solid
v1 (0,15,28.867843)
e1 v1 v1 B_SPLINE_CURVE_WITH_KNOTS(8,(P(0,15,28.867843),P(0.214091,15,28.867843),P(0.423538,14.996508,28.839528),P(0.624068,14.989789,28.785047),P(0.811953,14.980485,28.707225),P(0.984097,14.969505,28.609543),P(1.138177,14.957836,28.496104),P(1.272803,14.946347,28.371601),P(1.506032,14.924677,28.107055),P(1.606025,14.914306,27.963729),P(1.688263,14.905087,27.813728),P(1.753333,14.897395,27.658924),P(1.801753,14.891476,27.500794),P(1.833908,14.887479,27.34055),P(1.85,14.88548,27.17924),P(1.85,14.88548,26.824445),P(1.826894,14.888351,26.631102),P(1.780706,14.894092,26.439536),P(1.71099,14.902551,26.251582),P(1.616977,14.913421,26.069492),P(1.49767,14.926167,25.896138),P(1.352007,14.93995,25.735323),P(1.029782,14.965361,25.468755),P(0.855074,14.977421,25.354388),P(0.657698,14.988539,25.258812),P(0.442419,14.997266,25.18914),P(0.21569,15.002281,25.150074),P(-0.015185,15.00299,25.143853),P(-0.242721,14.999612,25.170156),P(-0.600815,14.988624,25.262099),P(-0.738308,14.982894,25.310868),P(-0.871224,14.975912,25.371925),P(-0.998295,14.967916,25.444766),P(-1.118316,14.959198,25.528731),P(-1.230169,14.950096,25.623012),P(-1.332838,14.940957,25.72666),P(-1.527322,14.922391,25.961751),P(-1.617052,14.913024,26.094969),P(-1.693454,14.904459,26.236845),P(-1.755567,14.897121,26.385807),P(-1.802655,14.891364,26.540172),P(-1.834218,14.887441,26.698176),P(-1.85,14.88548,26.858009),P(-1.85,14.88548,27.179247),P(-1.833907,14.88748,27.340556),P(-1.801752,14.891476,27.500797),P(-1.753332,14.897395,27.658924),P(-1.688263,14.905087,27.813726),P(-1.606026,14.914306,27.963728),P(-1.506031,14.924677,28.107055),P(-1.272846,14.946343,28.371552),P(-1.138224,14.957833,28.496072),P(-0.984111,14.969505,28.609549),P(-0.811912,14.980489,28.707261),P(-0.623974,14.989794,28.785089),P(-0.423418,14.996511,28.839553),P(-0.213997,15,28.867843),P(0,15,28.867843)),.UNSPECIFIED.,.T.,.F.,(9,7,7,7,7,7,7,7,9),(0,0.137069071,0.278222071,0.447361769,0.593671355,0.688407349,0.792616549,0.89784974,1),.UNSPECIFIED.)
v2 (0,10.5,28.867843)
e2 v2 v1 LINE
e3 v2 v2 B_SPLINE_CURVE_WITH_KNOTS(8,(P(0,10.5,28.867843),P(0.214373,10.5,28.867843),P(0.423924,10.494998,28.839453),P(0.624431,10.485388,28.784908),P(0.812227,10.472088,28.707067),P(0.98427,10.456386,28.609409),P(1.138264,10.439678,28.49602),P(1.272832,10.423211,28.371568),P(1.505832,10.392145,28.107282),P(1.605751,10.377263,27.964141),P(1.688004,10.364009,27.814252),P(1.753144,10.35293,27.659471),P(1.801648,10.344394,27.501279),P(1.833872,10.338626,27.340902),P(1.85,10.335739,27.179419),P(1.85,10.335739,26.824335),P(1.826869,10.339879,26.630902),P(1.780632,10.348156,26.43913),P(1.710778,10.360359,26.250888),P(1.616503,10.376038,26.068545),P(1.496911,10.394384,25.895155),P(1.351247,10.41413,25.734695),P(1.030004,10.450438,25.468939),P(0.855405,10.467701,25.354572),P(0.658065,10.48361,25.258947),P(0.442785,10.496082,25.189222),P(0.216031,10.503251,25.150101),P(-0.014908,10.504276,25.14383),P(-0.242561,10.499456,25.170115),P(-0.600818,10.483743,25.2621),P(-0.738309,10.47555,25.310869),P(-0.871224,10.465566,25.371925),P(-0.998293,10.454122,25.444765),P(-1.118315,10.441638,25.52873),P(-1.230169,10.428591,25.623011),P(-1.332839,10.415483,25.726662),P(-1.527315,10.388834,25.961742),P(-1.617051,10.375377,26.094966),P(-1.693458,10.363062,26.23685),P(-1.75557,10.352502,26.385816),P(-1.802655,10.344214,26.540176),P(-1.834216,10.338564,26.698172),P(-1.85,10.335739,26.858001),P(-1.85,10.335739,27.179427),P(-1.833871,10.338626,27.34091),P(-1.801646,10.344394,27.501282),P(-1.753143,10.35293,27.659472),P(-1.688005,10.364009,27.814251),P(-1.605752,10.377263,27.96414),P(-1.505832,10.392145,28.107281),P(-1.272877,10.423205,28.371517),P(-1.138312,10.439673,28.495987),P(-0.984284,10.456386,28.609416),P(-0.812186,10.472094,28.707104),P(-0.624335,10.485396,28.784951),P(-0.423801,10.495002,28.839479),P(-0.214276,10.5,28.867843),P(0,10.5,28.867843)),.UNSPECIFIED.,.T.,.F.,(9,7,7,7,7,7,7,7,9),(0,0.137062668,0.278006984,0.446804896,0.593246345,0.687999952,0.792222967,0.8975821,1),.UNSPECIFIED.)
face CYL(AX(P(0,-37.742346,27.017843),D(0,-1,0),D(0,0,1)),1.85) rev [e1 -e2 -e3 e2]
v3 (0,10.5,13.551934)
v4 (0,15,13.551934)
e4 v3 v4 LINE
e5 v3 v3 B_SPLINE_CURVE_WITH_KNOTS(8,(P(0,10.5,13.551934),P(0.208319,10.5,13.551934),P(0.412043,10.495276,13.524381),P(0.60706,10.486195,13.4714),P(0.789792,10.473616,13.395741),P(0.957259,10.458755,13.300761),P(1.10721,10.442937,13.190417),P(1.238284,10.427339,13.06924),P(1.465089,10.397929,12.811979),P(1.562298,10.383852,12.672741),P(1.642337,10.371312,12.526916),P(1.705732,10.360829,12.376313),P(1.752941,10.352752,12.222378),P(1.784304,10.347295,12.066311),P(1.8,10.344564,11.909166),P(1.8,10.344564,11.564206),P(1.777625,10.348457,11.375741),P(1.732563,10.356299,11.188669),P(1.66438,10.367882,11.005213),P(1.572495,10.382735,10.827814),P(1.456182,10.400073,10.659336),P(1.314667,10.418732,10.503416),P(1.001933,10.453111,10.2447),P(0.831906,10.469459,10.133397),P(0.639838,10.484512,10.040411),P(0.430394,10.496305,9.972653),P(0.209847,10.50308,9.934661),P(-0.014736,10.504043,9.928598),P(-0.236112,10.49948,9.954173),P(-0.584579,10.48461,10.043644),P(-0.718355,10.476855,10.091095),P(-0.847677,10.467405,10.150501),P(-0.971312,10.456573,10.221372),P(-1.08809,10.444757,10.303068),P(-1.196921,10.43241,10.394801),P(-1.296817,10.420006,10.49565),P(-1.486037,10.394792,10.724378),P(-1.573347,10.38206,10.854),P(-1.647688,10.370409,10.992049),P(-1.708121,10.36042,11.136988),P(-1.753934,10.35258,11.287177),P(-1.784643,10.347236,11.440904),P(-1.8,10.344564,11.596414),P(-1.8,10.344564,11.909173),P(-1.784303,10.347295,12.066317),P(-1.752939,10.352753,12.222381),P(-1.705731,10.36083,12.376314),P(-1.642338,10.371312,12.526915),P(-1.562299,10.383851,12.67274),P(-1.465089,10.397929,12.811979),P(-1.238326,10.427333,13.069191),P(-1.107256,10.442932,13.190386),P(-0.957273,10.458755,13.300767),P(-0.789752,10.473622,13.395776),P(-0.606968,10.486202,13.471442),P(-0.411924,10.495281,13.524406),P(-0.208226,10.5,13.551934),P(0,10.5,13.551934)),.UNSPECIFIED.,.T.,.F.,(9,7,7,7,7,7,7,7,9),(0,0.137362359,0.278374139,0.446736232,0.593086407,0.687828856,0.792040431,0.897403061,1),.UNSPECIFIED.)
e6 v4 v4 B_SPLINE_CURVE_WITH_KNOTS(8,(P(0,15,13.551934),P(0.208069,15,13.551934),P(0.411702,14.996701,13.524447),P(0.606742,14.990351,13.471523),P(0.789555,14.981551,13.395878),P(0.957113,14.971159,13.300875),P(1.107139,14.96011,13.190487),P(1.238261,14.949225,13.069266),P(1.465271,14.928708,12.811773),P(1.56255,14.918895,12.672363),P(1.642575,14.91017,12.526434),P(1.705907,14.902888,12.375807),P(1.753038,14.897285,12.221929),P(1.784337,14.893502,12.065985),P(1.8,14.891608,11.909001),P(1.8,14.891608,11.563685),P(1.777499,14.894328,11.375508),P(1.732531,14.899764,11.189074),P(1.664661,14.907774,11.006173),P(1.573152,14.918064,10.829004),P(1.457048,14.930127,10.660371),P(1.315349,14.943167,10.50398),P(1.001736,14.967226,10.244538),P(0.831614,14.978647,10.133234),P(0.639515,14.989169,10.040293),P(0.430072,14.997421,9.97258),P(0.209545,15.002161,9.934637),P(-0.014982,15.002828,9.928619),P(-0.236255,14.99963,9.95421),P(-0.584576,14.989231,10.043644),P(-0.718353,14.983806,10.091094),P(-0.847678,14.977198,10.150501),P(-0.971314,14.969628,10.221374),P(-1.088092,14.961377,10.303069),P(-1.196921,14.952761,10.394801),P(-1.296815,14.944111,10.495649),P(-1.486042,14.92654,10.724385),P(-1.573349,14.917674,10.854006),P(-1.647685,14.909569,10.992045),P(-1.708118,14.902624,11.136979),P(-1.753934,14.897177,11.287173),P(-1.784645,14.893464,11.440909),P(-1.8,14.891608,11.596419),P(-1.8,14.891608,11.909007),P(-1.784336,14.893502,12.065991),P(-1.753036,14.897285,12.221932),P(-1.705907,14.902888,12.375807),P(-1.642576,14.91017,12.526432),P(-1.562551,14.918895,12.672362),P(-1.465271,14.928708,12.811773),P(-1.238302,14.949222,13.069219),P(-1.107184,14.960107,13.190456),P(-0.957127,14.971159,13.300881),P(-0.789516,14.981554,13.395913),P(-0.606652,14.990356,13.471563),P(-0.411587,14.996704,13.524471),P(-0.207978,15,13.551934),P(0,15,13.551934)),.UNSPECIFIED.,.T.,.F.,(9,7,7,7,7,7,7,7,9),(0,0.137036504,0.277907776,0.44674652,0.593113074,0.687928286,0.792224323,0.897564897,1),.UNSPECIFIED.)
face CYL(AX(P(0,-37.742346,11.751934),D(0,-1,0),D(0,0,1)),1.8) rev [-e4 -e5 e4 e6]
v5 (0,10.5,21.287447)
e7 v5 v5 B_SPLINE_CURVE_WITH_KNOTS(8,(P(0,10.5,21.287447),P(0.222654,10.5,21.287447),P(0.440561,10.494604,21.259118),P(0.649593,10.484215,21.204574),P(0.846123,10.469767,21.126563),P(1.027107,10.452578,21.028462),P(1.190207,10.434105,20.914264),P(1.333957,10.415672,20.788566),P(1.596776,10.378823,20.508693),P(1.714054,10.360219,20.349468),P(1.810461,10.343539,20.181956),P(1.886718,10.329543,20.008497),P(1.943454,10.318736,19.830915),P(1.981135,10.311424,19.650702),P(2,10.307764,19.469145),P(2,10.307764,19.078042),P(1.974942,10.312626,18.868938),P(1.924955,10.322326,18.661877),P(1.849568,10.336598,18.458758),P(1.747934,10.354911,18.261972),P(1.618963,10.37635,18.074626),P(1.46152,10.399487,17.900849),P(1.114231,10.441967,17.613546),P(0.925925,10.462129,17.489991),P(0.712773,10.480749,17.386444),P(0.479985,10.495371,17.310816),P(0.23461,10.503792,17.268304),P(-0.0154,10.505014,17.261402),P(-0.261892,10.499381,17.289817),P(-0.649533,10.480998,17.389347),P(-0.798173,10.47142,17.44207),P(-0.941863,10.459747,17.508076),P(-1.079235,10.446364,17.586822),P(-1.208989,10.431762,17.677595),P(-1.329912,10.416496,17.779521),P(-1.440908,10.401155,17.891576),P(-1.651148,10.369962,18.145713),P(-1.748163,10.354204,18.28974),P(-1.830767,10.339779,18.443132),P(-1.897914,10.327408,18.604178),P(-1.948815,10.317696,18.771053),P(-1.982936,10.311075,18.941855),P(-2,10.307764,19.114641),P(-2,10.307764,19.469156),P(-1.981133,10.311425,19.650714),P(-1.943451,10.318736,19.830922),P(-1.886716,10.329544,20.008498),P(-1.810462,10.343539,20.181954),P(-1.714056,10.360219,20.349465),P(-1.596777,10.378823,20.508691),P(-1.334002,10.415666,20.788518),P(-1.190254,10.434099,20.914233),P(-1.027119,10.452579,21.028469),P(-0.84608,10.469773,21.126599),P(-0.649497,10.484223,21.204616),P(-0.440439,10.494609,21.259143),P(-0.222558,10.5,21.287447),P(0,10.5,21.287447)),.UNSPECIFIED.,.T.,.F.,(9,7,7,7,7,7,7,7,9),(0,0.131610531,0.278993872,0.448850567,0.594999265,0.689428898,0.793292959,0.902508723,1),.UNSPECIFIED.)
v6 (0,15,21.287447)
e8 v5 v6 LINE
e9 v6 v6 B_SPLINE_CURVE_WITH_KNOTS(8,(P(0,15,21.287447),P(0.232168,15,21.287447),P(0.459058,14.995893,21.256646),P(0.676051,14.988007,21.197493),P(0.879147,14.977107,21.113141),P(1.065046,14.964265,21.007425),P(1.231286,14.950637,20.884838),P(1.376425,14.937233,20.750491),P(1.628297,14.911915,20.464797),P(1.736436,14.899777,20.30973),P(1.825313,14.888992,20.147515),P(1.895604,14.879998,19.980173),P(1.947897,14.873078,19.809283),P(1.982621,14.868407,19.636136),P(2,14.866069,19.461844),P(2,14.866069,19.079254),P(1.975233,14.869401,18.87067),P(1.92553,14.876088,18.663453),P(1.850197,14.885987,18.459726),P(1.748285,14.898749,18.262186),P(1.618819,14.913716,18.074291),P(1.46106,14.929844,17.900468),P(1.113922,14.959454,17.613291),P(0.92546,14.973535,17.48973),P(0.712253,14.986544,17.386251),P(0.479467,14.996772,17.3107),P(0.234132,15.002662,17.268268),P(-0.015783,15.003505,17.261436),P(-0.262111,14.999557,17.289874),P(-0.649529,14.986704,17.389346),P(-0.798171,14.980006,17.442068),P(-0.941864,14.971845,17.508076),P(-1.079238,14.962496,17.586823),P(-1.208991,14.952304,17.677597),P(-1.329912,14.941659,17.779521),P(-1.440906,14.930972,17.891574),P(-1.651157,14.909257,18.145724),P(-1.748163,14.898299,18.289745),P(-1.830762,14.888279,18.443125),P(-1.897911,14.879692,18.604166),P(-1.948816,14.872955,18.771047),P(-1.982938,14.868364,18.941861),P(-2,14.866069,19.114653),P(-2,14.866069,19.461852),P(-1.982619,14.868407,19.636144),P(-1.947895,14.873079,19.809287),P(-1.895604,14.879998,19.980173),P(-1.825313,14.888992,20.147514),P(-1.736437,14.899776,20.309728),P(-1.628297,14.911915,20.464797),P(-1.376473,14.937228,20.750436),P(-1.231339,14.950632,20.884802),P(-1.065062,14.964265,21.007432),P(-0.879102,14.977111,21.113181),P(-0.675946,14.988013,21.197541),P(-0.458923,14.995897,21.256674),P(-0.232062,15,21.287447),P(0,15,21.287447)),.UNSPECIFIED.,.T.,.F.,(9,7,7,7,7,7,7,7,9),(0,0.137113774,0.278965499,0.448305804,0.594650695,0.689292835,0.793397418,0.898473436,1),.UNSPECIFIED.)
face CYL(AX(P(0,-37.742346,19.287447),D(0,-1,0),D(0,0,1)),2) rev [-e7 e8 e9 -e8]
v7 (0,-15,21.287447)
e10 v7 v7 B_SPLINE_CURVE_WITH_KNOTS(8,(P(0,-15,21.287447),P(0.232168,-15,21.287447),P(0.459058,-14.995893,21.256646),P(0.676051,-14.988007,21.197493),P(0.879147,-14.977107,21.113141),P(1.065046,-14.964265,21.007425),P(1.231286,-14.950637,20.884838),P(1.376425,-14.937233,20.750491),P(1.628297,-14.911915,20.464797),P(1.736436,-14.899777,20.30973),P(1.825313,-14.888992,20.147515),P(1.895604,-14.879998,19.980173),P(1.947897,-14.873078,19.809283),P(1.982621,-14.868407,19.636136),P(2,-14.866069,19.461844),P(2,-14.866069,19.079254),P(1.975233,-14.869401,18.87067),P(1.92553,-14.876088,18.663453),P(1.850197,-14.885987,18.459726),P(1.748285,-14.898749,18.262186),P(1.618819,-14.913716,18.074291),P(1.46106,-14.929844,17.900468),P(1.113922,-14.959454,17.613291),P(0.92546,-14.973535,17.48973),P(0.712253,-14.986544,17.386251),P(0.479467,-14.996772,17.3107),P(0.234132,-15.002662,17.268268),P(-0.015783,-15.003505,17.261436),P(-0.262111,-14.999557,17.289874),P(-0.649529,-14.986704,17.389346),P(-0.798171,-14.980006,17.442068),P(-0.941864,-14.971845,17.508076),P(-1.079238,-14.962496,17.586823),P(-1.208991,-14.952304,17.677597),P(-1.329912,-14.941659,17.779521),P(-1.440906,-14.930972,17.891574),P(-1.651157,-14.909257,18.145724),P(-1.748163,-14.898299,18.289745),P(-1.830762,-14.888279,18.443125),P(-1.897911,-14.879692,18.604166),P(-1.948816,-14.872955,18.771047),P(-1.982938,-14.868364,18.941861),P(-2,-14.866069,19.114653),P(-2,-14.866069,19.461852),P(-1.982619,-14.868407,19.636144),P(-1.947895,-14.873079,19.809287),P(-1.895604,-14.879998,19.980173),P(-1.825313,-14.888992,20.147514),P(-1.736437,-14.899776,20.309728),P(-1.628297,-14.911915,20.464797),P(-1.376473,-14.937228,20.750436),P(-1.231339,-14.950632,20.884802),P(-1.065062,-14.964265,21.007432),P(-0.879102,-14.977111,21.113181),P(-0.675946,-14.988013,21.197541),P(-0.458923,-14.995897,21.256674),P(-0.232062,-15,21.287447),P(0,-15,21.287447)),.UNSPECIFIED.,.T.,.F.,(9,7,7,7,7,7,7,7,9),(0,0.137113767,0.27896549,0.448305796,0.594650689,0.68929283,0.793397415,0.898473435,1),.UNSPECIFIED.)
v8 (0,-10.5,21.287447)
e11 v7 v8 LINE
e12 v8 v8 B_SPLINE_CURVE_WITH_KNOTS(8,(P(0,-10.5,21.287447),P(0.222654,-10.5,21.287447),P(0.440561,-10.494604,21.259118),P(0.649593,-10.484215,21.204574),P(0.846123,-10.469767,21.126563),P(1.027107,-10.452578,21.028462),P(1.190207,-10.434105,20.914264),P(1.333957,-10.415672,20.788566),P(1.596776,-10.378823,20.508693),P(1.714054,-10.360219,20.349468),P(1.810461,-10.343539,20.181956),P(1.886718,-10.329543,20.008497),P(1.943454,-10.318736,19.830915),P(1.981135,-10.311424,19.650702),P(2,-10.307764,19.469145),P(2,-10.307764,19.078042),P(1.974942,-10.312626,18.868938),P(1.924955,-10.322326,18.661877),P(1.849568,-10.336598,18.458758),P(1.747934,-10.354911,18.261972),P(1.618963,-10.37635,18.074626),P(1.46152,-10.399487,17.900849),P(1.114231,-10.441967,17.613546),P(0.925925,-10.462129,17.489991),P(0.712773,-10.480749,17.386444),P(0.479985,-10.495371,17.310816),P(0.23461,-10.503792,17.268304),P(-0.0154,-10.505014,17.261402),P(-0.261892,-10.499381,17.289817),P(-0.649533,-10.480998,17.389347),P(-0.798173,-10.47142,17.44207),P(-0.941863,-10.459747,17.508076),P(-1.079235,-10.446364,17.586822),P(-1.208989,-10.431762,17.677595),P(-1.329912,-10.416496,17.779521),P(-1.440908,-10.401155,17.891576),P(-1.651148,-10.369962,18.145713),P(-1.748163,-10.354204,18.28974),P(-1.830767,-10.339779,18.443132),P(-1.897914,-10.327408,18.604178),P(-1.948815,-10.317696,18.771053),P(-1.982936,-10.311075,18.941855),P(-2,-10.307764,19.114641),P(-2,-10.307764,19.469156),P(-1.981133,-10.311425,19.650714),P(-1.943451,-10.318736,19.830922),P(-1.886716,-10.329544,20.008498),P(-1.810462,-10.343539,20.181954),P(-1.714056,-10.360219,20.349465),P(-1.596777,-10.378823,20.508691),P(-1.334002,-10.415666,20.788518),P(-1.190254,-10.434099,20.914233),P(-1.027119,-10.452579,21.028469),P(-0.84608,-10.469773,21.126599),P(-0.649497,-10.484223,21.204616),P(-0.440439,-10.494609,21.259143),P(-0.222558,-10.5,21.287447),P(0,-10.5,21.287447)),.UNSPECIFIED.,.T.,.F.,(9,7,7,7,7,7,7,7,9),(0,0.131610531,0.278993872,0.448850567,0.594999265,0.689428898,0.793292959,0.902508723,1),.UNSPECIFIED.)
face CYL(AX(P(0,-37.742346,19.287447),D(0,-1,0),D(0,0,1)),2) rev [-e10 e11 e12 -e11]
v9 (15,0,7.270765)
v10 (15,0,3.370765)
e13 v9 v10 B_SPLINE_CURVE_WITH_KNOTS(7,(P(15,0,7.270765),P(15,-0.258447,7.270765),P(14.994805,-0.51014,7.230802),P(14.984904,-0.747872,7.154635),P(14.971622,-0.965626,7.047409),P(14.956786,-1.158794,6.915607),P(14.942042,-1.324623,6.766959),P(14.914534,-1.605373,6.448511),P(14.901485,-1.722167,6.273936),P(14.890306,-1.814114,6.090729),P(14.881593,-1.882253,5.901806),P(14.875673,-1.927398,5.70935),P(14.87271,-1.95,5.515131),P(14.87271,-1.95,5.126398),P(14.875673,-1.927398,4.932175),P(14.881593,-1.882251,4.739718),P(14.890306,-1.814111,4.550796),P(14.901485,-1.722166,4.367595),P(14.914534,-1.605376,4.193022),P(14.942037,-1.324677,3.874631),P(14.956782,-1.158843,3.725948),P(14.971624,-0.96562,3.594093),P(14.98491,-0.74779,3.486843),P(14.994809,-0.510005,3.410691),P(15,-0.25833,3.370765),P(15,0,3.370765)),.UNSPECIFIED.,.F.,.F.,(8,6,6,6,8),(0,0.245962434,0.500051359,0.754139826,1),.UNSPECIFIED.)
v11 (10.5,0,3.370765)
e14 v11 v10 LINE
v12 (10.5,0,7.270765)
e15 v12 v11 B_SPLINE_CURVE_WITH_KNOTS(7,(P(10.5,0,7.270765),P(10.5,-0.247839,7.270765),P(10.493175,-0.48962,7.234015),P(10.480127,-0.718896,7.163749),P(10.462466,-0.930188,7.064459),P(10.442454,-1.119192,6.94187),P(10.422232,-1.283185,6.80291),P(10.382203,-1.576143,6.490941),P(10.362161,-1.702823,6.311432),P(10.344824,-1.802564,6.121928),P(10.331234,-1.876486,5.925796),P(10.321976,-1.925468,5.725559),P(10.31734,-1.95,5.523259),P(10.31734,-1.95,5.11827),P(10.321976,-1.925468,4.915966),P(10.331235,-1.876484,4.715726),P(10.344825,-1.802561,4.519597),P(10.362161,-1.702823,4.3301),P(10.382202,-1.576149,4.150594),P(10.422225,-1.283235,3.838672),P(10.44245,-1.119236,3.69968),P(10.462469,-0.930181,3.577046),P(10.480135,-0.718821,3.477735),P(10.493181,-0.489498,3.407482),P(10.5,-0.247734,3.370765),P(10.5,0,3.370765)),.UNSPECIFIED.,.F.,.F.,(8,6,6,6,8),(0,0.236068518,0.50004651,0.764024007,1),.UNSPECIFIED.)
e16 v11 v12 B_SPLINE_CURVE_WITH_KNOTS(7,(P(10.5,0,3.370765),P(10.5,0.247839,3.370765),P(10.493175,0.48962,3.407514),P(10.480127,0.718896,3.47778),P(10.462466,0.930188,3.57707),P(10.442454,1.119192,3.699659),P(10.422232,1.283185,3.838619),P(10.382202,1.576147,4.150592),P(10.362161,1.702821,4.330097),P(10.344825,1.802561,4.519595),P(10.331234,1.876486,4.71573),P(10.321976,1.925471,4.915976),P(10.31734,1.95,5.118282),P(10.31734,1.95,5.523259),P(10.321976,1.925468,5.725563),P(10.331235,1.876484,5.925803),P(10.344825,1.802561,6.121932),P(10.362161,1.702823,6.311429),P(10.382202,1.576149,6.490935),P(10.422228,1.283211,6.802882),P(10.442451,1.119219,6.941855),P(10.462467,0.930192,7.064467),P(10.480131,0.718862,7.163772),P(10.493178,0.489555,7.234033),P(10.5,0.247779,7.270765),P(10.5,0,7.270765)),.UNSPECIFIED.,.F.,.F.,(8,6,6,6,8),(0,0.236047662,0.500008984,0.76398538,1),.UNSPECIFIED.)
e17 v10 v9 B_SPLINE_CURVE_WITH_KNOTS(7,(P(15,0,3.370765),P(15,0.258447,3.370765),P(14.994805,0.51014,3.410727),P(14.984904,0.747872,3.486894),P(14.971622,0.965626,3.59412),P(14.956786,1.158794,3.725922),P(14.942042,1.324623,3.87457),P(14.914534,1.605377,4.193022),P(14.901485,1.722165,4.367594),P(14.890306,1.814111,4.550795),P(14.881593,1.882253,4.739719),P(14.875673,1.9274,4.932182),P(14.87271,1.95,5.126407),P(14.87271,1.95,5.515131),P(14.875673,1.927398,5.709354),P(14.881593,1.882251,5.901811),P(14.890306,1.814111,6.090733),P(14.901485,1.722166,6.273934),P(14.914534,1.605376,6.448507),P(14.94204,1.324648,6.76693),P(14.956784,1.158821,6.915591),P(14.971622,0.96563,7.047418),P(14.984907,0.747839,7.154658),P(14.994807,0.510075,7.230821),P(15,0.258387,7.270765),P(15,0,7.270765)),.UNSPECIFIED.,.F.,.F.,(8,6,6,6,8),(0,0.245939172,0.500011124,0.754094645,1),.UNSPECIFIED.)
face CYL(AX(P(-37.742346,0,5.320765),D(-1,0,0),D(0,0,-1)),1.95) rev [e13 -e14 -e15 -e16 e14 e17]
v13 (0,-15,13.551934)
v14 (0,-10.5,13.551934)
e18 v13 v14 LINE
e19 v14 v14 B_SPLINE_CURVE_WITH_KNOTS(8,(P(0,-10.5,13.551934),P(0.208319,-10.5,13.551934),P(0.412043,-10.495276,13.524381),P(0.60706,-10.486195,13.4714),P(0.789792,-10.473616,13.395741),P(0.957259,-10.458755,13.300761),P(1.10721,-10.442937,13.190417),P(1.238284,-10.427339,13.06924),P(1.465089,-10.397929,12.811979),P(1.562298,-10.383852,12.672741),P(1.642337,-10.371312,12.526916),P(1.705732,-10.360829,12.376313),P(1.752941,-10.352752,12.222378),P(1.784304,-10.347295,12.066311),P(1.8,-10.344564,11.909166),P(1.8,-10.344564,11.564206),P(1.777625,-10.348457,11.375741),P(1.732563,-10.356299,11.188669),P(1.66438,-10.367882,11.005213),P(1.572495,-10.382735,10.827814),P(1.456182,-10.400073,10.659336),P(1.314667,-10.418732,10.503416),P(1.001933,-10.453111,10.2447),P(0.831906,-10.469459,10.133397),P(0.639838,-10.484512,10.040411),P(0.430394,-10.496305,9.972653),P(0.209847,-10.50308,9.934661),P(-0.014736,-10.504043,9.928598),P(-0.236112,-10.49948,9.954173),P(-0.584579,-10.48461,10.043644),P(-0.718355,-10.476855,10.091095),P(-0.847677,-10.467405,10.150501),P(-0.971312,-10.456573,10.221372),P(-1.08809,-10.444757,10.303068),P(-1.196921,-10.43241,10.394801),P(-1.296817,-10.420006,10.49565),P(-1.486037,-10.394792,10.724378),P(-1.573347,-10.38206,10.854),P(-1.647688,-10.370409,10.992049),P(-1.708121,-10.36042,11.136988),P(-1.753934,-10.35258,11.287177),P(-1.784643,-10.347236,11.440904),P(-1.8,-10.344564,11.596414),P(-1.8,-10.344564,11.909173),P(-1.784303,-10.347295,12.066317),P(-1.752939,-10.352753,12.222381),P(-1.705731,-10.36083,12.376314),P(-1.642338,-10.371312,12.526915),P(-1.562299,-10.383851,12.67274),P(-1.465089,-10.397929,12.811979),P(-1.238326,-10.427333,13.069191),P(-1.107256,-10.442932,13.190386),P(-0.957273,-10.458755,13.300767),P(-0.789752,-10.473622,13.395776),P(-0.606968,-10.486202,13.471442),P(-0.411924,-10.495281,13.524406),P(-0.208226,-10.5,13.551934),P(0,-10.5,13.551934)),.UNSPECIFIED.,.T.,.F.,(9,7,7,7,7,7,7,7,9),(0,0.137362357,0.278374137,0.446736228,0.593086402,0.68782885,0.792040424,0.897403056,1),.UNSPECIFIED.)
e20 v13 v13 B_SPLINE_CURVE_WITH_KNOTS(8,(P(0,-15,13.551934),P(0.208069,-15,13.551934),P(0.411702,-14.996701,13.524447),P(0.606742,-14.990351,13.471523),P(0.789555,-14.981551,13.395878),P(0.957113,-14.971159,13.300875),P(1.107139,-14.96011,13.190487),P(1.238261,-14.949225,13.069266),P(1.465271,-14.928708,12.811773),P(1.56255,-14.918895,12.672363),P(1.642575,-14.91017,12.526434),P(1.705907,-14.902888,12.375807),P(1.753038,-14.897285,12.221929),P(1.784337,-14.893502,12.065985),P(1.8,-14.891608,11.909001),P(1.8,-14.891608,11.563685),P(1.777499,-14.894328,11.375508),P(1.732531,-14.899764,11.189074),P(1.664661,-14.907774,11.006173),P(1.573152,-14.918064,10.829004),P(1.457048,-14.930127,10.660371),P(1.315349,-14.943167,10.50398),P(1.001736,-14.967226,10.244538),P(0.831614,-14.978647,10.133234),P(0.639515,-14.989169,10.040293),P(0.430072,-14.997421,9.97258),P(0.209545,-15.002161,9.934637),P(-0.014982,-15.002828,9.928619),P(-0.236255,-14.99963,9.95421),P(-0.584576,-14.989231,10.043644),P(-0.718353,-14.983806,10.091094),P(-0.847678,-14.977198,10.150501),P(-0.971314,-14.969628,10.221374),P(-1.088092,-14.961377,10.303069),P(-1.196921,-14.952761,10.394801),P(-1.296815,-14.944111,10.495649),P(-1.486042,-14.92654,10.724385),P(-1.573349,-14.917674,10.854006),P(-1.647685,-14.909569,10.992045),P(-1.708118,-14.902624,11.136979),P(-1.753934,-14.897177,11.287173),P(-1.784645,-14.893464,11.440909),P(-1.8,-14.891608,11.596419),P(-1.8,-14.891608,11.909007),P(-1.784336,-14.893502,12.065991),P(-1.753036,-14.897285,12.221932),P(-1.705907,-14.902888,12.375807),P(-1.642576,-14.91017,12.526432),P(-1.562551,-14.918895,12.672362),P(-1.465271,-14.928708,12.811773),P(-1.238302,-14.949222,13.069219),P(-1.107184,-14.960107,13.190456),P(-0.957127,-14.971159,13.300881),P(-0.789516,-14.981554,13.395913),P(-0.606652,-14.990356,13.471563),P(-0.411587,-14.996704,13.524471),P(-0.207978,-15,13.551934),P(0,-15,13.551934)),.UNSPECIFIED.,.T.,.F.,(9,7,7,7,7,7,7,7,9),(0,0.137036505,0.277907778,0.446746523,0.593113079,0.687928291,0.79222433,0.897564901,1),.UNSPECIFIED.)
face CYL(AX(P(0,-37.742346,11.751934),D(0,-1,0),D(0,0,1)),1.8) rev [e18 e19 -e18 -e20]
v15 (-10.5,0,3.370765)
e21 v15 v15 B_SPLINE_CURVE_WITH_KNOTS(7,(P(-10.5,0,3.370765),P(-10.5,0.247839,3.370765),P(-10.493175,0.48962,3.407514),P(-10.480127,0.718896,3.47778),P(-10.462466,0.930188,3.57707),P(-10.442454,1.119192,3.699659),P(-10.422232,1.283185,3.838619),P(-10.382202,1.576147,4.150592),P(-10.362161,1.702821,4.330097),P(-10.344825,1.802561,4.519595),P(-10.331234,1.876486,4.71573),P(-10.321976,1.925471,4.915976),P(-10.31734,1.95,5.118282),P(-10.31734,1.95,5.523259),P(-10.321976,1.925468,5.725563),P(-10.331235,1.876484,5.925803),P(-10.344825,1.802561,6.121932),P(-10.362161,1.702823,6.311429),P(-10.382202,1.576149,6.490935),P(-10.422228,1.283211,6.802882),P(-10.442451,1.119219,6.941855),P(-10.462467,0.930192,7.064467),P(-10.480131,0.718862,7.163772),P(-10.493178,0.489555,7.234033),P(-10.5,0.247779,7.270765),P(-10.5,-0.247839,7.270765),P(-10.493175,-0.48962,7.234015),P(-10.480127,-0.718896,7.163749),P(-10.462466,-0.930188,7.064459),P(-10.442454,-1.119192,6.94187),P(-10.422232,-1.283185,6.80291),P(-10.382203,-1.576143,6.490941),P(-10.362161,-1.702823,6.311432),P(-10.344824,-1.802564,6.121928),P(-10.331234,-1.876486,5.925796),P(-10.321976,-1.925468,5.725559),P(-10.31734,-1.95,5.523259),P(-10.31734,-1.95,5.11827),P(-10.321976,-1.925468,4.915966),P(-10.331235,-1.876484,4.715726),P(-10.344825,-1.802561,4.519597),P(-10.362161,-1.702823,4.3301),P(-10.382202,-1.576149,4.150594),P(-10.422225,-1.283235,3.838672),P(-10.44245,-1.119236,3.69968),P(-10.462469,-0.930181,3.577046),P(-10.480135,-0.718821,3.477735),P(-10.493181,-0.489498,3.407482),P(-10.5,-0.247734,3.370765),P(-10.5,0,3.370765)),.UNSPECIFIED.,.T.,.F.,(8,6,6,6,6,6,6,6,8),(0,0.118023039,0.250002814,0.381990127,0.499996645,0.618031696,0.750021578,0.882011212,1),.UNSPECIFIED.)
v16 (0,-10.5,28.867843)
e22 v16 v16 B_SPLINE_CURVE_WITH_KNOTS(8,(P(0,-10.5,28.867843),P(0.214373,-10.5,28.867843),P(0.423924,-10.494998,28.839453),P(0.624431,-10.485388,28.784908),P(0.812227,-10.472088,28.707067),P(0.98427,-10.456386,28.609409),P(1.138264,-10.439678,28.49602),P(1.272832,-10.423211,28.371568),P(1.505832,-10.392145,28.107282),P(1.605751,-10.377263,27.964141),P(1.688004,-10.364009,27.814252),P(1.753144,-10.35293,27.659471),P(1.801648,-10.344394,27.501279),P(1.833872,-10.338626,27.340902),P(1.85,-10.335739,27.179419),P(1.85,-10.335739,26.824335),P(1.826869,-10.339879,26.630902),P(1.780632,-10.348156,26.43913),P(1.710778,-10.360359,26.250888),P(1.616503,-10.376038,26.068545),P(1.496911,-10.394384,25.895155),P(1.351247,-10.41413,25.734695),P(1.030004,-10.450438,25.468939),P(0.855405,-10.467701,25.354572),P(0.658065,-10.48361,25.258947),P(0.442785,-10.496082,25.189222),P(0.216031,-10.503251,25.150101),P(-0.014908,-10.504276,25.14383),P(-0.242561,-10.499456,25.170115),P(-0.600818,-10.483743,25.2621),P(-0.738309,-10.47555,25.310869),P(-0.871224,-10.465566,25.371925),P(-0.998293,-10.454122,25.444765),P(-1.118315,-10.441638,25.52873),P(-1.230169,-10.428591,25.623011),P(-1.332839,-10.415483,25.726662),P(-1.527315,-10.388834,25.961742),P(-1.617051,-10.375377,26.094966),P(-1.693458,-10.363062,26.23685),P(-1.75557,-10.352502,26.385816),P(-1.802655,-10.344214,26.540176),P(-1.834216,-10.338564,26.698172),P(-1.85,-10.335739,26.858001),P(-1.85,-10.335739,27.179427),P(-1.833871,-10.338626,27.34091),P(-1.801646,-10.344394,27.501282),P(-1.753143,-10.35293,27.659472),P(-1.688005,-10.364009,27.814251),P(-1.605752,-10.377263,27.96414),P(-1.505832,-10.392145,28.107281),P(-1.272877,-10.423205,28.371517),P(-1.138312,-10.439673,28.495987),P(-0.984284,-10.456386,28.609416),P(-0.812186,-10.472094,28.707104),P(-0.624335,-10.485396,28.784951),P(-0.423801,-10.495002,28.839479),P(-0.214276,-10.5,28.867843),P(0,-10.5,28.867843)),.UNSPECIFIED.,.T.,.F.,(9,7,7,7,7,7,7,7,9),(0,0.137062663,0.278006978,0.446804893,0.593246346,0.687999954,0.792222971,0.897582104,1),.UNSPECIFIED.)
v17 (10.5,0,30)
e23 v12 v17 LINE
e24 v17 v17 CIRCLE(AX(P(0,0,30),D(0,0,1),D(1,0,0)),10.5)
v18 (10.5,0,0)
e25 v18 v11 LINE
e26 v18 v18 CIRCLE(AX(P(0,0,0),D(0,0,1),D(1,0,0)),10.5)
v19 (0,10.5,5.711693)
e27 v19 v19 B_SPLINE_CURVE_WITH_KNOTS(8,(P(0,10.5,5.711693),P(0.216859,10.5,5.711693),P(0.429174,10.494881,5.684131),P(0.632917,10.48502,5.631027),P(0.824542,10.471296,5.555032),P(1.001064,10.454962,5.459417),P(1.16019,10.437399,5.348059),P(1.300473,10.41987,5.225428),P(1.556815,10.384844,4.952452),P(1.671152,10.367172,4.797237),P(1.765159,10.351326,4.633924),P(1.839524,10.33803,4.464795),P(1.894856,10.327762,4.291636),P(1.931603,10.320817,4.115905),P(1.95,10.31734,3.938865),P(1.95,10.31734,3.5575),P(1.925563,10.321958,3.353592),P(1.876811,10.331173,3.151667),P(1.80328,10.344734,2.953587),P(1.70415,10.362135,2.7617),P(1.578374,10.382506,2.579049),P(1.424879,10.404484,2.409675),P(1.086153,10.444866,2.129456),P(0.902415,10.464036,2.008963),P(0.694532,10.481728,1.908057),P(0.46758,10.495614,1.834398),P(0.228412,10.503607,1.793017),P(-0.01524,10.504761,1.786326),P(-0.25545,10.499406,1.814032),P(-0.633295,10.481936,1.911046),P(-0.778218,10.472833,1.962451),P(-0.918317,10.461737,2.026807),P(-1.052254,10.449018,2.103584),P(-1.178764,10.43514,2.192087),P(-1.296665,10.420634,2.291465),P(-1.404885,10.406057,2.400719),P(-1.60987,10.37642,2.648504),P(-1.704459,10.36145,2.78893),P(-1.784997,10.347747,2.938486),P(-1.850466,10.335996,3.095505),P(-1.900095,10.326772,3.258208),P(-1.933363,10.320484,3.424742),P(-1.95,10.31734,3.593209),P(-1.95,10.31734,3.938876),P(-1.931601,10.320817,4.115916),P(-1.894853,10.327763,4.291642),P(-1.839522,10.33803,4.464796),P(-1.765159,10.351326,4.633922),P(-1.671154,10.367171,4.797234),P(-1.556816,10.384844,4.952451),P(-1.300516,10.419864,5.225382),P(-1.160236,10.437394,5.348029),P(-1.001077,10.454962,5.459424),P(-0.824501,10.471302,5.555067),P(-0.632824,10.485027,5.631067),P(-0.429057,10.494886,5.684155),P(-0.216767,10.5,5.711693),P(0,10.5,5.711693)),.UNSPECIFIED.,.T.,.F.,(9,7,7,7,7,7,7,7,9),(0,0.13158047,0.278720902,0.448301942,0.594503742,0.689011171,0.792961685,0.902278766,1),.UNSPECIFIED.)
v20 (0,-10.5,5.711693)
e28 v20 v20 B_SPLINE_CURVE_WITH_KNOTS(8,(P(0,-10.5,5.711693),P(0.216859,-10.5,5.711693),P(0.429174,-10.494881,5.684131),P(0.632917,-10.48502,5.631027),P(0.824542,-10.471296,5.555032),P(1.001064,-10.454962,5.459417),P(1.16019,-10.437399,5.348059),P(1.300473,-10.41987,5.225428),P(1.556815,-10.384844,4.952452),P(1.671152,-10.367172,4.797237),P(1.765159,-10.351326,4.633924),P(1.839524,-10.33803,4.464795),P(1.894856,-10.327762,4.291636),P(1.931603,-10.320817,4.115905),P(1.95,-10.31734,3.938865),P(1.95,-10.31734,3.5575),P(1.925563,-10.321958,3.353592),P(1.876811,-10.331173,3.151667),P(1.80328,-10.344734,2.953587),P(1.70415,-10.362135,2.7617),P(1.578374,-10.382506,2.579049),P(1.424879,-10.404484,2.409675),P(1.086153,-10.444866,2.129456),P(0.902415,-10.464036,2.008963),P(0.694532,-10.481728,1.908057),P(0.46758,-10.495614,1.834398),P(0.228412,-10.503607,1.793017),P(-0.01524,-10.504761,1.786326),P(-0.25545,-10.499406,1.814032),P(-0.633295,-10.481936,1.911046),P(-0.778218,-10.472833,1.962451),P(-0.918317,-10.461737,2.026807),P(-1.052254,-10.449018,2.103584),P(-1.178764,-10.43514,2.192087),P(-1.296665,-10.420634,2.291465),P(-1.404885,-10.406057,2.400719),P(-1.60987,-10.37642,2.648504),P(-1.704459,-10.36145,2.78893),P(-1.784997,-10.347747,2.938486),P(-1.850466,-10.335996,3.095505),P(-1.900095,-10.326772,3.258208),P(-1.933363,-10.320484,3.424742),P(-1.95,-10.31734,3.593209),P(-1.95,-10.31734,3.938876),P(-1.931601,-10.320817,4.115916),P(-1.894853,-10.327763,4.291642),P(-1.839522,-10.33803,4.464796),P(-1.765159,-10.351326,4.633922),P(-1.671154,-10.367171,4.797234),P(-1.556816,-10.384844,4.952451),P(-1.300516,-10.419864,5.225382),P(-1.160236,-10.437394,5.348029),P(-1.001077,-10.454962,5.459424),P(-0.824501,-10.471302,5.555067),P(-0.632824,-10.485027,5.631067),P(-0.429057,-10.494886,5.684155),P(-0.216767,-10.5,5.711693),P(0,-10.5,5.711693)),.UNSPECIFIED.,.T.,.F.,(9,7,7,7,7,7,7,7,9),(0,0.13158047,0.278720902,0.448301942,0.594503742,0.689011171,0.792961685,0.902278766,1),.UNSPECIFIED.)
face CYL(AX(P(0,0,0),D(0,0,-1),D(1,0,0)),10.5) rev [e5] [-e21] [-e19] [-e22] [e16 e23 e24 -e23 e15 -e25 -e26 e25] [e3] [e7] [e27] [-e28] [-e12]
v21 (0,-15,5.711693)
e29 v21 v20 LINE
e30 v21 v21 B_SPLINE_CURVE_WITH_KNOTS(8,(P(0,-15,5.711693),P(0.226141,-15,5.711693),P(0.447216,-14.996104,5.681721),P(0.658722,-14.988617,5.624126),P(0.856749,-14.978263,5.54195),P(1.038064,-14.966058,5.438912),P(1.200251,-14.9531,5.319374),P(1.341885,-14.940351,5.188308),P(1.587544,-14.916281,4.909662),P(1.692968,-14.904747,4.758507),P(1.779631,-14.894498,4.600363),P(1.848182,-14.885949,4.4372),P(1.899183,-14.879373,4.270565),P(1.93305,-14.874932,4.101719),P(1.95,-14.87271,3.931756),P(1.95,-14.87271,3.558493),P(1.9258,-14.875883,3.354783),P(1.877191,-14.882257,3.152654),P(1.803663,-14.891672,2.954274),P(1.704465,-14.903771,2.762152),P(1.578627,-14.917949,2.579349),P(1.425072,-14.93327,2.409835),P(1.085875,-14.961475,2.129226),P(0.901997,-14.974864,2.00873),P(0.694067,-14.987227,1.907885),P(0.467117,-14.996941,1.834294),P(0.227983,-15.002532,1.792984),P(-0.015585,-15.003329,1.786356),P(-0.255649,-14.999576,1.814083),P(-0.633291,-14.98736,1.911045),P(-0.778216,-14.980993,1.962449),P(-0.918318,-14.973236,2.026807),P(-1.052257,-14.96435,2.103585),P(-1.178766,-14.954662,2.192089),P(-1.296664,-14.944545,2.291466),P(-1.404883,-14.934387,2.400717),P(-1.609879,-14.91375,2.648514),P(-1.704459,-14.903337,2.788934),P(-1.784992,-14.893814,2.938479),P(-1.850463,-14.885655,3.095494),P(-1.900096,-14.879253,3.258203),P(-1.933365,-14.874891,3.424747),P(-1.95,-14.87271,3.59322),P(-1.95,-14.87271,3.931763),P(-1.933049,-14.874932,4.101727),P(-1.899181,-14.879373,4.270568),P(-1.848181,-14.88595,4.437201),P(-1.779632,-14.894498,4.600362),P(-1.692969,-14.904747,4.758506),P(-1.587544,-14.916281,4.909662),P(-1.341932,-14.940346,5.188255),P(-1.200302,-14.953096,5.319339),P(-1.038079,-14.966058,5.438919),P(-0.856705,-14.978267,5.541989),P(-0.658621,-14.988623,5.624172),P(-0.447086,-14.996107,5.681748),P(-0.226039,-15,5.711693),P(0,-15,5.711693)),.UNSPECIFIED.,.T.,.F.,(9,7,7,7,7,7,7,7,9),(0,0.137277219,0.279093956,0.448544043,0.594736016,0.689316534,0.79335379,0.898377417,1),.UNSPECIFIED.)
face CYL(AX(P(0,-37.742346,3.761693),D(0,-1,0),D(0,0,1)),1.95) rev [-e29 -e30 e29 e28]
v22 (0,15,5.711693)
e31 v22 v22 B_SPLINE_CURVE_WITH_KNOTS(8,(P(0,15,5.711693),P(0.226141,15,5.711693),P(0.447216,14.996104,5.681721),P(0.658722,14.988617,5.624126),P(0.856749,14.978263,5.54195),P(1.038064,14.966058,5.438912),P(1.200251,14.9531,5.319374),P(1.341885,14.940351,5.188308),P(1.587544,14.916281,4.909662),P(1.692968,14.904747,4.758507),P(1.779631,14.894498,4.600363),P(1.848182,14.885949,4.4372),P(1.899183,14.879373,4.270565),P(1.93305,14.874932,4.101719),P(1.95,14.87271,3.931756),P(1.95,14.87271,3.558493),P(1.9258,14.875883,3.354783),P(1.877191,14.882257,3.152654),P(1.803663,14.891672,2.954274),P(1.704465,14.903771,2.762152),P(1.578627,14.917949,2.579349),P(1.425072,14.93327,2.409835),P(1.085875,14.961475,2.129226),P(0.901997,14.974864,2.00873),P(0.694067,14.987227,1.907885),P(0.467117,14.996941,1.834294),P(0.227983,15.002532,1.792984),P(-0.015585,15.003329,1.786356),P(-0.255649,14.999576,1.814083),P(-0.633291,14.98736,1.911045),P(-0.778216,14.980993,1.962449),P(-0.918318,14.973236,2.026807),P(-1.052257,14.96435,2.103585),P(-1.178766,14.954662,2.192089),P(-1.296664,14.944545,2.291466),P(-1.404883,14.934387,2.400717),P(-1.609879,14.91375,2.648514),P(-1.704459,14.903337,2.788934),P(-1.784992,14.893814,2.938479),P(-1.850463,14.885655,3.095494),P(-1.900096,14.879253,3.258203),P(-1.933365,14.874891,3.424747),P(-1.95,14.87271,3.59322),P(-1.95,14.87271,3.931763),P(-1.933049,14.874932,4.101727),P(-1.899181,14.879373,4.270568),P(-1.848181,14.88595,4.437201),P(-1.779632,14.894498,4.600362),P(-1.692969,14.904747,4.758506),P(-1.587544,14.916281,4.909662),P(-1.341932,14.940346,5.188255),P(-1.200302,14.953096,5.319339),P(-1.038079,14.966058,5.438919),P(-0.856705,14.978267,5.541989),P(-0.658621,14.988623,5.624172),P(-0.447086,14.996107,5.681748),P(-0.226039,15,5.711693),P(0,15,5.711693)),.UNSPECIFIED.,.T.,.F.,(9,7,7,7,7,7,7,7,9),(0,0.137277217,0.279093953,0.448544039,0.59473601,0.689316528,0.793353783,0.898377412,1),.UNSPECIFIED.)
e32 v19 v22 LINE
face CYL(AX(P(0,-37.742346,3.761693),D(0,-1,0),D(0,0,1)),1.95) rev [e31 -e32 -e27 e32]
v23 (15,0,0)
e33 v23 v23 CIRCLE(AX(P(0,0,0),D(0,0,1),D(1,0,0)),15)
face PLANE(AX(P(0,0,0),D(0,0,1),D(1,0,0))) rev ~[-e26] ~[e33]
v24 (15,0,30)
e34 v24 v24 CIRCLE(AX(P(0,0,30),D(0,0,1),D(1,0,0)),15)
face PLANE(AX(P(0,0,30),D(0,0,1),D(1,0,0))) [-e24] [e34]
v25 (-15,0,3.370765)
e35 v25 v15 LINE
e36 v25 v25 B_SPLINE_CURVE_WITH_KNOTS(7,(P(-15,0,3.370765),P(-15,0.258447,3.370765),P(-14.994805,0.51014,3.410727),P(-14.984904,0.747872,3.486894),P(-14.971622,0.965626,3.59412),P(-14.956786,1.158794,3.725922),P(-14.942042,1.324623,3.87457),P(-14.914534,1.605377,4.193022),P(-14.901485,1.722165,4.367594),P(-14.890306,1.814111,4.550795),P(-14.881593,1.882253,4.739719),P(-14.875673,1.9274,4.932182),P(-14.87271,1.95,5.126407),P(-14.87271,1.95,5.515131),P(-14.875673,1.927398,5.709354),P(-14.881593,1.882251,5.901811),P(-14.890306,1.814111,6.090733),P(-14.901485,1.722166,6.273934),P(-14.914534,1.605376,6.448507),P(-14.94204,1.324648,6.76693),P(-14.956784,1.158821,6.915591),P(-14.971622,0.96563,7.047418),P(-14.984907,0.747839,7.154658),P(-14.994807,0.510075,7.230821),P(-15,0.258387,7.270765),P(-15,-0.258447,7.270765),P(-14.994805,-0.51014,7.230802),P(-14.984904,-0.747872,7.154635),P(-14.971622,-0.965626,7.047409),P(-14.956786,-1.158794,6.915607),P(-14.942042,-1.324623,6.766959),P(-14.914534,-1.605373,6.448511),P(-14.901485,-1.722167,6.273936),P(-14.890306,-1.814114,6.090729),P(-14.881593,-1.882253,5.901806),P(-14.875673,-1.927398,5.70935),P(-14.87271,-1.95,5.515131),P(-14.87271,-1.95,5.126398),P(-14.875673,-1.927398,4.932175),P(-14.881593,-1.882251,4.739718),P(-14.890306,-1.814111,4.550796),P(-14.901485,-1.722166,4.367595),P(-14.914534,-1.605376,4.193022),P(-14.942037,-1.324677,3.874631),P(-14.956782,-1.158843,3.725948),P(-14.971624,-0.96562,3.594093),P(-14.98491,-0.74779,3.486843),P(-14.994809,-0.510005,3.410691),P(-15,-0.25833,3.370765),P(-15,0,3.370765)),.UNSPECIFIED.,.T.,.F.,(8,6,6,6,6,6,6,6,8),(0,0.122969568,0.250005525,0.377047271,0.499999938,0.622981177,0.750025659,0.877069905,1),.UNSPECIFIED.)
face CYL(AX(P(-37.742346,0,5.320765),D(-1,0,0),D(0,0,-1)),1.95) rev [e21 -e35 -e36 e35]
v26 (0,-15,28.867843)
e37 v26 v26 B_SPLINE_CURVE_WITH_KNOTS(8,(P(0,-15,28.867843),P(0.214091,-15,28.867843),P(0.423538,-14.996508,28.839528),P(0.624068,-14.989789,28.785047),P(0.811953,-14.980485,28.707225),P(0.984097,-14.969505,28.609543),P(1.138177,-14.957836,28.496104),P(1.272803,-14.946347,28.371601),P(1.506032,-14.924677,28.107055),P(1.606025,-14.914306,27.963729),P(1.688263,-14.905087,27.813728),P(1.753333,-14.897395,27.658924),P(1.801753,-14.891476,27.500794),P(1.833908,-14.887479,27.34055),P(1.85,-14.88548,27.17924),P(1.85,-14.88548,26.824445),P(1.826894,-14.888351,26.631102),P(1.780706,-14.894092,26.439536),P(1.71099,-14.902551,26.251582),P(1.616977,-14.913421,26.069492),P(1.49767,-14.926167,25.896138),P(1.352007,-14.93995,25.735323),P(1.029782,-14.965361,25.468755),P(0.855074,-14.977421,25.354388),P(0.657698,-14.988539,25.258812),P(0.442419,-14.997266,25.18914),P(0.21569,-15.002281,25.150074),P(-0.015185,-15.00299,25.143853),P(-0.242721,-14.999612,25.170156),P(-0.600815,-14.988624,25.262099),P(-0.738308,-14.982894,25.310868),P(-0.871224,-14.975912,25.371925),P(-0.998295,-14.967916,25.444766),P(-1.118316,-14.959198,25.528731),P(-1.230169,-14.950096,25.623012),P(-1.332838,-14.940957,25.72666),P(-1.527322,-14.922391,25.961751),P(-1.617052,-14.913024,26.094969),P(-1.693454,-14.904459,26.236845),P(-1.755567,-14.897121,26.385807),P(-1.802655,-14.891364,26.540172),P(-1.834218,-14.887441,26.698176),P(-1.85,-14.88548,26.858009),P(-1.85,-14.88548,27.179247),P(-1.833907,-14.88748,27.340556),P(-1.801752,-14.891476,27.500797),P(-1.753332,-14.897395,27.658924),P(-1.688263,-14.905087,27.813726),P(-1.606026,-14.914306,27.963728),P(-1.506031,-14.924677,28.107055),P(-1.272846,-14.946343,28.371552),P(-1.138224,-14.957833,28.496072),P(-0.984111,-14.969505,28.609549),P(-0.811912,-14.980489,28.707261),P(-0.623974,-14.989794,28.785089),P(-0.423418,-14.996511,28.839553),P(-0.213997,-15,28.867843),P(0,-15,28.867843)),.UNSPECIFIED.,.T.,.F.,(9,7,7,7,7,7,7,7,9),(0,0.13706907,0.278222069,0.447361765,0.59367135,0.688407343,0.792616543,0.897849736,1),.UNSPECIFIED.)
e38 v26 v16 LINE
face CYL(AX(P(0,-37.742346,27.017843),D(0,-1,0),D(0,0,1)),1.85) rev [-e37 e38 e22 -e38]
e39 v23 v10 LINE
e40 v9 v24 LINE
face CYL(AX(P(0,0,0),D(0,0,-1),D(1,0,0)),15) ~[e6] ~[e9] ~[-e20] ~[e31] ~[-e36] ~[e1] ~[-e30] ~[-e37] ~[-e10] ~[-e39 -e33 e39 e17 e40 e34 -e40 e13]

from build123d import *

# Parameters (mm, degrees)
ESQUISSE1_R                  = 15
ESQUISSE1_R_2                = 10.5
BOSS_EXTRU_1_DEPTH           = 30
ENL_V_MAT_EXTRU_1_DEPTH      = 37.742346142
ENL_V_MAT_EXTRU_1_DEPTH_BACK = 37.742346142
ESQUISSE2_R                  = 1.95
ENL_V_MAT_EXTRU_2_DEPTH      = 37.742346305
ENL_V_MAT_EXTRU_2_DEPTH_BACK = 37.742346305
ESQUISSE3_R                  = 1.8
ENL_V_MAT_EXTRU_3_DEPTH      = 37.742346305
ENL_V_MAT_EXTRU_3_DEPTH_BACK = 37.742346305
ESQUISSE4_R                  = 2
ENL_V_MAT_EXTRU_4_DEPTH      = 37.742346305
ENL_V_MAT_EXTRU_4_DEPTH_BACK = 37.742346305
ESQUISSE5_R                  = 1.85
ENL_V_MAT_EXTRU_5_DEPTH      = 37.742346305
ENL_V_MAT_EXTRU_5_DEPTH_BACK = 37.742346305
ESQUISSE6_R                  = 1.95


with BuildPart() as part:
    # Esquisse1 → Boss.-Extru.1 (new body)
    with BuildSketch(Plane.XY):
        Circle(ESQUISSE1_R)
        Circle(ESQUISSE1_R_2, mode=Mode.SUBTRACT)
    extrude(amount=BOSS_EXTRU_1_DEPTH)

    # Esquisse2 → Enlèv. mat.-Extru.1 (cut, two sides: drawn at the far end of the back side and taken through both)
    with BuildSketch(Plane(origin=(0, 0, 0), x_dir=(1, 0, 0), z_dir=(0, 1, 0)).offset(-ENL_V_MAT_EXTRU_1_DEPTH_BACK)):
        with Locations(Location((0, -3.761693036, 0), (0, 0, 270))):
            Circle(ESQUISSE2_R)
    extrude(amount=ENL_V_MAT_EXTRU_1_DEPTH + ENL_V_MAT_EXTRU_1_DEPTH_BACK, mode=Mode.SUBTRACT)

    # Esquisse3 → Enlèv. mat.-Extru.2 (cut, two sides: drawn at the far end of the back side and taken through both)
    with BuildSketch(Plane(origin=(0, 0, 0), x_dir=(1, 0, 0), z_dir=(0, 1, 0)).offset(-ENL_V_MAT_EXTRU_2_DEPTH_BACK)):
        with Locations(Location((0, -11.751934404, 0), (0, 0, 270))):
            Circle(ESQUISSE3_R)
    extrude(amount=ENL_V_MAT_EXTRU_2_DEPTH + ENL_V_MAT_EXTRU_2_DEPTH_BACK, mode=Mode.SUBTRACT)

    # Esquisse4 → Enlèv. mat.-Extru.3 (cut, two sides: drawn at the far end of the back side and taken through both)
    with BuildSketch(Plane(origin=(0, 0, 0), x_dir=(1, 0, 0), z_dir=(0, 1, 0)).offset(-ENL_V_MAT_EXTRU_3_DEPTH_BACK)):
        with Locations(Location((0, -19.287446587, 0), (0, 0, 270))):
            Circle(ESQUISSE4_R)
    extrude(amount=ENL_V_MAT_EXTRU_3_DEPTH + ENL_V_MAT_EXTRU_3_DEPTH_BACK, mode=Mode.SUBTRACT)

    # Esquisse5 → Enlèv. mat.-Extru.4 (cut, two sides: drawn at the far end of the back side and taken through both)
    with BuildSketch(Plane(origin=(0, 0, 0), x_dir=(1, 0, 0), z_dir=(0, 1, 0)).offset(-ENL_V_MAT_EXTRU_4_DEPTH_BACK)):
        with Locations(Location((0, -27.017842707, 0), (0, 0, 270))):
            Circle(ESQUISSE5_R)
    extrude(amount=ENL_V_MAT_EXTRU_4_DEPTH + ENL_V_MAT_EXTRU_4_DEPTH_BACK, mode=Mode.SUBTRACT)

    # Esquisse6 → Enlèv. mat.-Extru.5 (cut, two sides: drawn at the far end of the back side and taken through both)
    with BuildSketch(Plane(origin=(0, 0, 0), x_dir=(0, 0, -1), z_dir=(1, 0, 0)).offset(-ENL_V_MAT_EXTRU_5_DEPTH_BACK)):
        with Locations((-5.320764522, 0)):
            Circle(ESQUISSE6_R)
    extrude(amount=ENL_V_MAT_EXTRU_5_DEPTH + ENL_V_MAT_EXTRU_5_DEPTH_BACK, mode=Mode.SUBTRACT)


solid = part.part
